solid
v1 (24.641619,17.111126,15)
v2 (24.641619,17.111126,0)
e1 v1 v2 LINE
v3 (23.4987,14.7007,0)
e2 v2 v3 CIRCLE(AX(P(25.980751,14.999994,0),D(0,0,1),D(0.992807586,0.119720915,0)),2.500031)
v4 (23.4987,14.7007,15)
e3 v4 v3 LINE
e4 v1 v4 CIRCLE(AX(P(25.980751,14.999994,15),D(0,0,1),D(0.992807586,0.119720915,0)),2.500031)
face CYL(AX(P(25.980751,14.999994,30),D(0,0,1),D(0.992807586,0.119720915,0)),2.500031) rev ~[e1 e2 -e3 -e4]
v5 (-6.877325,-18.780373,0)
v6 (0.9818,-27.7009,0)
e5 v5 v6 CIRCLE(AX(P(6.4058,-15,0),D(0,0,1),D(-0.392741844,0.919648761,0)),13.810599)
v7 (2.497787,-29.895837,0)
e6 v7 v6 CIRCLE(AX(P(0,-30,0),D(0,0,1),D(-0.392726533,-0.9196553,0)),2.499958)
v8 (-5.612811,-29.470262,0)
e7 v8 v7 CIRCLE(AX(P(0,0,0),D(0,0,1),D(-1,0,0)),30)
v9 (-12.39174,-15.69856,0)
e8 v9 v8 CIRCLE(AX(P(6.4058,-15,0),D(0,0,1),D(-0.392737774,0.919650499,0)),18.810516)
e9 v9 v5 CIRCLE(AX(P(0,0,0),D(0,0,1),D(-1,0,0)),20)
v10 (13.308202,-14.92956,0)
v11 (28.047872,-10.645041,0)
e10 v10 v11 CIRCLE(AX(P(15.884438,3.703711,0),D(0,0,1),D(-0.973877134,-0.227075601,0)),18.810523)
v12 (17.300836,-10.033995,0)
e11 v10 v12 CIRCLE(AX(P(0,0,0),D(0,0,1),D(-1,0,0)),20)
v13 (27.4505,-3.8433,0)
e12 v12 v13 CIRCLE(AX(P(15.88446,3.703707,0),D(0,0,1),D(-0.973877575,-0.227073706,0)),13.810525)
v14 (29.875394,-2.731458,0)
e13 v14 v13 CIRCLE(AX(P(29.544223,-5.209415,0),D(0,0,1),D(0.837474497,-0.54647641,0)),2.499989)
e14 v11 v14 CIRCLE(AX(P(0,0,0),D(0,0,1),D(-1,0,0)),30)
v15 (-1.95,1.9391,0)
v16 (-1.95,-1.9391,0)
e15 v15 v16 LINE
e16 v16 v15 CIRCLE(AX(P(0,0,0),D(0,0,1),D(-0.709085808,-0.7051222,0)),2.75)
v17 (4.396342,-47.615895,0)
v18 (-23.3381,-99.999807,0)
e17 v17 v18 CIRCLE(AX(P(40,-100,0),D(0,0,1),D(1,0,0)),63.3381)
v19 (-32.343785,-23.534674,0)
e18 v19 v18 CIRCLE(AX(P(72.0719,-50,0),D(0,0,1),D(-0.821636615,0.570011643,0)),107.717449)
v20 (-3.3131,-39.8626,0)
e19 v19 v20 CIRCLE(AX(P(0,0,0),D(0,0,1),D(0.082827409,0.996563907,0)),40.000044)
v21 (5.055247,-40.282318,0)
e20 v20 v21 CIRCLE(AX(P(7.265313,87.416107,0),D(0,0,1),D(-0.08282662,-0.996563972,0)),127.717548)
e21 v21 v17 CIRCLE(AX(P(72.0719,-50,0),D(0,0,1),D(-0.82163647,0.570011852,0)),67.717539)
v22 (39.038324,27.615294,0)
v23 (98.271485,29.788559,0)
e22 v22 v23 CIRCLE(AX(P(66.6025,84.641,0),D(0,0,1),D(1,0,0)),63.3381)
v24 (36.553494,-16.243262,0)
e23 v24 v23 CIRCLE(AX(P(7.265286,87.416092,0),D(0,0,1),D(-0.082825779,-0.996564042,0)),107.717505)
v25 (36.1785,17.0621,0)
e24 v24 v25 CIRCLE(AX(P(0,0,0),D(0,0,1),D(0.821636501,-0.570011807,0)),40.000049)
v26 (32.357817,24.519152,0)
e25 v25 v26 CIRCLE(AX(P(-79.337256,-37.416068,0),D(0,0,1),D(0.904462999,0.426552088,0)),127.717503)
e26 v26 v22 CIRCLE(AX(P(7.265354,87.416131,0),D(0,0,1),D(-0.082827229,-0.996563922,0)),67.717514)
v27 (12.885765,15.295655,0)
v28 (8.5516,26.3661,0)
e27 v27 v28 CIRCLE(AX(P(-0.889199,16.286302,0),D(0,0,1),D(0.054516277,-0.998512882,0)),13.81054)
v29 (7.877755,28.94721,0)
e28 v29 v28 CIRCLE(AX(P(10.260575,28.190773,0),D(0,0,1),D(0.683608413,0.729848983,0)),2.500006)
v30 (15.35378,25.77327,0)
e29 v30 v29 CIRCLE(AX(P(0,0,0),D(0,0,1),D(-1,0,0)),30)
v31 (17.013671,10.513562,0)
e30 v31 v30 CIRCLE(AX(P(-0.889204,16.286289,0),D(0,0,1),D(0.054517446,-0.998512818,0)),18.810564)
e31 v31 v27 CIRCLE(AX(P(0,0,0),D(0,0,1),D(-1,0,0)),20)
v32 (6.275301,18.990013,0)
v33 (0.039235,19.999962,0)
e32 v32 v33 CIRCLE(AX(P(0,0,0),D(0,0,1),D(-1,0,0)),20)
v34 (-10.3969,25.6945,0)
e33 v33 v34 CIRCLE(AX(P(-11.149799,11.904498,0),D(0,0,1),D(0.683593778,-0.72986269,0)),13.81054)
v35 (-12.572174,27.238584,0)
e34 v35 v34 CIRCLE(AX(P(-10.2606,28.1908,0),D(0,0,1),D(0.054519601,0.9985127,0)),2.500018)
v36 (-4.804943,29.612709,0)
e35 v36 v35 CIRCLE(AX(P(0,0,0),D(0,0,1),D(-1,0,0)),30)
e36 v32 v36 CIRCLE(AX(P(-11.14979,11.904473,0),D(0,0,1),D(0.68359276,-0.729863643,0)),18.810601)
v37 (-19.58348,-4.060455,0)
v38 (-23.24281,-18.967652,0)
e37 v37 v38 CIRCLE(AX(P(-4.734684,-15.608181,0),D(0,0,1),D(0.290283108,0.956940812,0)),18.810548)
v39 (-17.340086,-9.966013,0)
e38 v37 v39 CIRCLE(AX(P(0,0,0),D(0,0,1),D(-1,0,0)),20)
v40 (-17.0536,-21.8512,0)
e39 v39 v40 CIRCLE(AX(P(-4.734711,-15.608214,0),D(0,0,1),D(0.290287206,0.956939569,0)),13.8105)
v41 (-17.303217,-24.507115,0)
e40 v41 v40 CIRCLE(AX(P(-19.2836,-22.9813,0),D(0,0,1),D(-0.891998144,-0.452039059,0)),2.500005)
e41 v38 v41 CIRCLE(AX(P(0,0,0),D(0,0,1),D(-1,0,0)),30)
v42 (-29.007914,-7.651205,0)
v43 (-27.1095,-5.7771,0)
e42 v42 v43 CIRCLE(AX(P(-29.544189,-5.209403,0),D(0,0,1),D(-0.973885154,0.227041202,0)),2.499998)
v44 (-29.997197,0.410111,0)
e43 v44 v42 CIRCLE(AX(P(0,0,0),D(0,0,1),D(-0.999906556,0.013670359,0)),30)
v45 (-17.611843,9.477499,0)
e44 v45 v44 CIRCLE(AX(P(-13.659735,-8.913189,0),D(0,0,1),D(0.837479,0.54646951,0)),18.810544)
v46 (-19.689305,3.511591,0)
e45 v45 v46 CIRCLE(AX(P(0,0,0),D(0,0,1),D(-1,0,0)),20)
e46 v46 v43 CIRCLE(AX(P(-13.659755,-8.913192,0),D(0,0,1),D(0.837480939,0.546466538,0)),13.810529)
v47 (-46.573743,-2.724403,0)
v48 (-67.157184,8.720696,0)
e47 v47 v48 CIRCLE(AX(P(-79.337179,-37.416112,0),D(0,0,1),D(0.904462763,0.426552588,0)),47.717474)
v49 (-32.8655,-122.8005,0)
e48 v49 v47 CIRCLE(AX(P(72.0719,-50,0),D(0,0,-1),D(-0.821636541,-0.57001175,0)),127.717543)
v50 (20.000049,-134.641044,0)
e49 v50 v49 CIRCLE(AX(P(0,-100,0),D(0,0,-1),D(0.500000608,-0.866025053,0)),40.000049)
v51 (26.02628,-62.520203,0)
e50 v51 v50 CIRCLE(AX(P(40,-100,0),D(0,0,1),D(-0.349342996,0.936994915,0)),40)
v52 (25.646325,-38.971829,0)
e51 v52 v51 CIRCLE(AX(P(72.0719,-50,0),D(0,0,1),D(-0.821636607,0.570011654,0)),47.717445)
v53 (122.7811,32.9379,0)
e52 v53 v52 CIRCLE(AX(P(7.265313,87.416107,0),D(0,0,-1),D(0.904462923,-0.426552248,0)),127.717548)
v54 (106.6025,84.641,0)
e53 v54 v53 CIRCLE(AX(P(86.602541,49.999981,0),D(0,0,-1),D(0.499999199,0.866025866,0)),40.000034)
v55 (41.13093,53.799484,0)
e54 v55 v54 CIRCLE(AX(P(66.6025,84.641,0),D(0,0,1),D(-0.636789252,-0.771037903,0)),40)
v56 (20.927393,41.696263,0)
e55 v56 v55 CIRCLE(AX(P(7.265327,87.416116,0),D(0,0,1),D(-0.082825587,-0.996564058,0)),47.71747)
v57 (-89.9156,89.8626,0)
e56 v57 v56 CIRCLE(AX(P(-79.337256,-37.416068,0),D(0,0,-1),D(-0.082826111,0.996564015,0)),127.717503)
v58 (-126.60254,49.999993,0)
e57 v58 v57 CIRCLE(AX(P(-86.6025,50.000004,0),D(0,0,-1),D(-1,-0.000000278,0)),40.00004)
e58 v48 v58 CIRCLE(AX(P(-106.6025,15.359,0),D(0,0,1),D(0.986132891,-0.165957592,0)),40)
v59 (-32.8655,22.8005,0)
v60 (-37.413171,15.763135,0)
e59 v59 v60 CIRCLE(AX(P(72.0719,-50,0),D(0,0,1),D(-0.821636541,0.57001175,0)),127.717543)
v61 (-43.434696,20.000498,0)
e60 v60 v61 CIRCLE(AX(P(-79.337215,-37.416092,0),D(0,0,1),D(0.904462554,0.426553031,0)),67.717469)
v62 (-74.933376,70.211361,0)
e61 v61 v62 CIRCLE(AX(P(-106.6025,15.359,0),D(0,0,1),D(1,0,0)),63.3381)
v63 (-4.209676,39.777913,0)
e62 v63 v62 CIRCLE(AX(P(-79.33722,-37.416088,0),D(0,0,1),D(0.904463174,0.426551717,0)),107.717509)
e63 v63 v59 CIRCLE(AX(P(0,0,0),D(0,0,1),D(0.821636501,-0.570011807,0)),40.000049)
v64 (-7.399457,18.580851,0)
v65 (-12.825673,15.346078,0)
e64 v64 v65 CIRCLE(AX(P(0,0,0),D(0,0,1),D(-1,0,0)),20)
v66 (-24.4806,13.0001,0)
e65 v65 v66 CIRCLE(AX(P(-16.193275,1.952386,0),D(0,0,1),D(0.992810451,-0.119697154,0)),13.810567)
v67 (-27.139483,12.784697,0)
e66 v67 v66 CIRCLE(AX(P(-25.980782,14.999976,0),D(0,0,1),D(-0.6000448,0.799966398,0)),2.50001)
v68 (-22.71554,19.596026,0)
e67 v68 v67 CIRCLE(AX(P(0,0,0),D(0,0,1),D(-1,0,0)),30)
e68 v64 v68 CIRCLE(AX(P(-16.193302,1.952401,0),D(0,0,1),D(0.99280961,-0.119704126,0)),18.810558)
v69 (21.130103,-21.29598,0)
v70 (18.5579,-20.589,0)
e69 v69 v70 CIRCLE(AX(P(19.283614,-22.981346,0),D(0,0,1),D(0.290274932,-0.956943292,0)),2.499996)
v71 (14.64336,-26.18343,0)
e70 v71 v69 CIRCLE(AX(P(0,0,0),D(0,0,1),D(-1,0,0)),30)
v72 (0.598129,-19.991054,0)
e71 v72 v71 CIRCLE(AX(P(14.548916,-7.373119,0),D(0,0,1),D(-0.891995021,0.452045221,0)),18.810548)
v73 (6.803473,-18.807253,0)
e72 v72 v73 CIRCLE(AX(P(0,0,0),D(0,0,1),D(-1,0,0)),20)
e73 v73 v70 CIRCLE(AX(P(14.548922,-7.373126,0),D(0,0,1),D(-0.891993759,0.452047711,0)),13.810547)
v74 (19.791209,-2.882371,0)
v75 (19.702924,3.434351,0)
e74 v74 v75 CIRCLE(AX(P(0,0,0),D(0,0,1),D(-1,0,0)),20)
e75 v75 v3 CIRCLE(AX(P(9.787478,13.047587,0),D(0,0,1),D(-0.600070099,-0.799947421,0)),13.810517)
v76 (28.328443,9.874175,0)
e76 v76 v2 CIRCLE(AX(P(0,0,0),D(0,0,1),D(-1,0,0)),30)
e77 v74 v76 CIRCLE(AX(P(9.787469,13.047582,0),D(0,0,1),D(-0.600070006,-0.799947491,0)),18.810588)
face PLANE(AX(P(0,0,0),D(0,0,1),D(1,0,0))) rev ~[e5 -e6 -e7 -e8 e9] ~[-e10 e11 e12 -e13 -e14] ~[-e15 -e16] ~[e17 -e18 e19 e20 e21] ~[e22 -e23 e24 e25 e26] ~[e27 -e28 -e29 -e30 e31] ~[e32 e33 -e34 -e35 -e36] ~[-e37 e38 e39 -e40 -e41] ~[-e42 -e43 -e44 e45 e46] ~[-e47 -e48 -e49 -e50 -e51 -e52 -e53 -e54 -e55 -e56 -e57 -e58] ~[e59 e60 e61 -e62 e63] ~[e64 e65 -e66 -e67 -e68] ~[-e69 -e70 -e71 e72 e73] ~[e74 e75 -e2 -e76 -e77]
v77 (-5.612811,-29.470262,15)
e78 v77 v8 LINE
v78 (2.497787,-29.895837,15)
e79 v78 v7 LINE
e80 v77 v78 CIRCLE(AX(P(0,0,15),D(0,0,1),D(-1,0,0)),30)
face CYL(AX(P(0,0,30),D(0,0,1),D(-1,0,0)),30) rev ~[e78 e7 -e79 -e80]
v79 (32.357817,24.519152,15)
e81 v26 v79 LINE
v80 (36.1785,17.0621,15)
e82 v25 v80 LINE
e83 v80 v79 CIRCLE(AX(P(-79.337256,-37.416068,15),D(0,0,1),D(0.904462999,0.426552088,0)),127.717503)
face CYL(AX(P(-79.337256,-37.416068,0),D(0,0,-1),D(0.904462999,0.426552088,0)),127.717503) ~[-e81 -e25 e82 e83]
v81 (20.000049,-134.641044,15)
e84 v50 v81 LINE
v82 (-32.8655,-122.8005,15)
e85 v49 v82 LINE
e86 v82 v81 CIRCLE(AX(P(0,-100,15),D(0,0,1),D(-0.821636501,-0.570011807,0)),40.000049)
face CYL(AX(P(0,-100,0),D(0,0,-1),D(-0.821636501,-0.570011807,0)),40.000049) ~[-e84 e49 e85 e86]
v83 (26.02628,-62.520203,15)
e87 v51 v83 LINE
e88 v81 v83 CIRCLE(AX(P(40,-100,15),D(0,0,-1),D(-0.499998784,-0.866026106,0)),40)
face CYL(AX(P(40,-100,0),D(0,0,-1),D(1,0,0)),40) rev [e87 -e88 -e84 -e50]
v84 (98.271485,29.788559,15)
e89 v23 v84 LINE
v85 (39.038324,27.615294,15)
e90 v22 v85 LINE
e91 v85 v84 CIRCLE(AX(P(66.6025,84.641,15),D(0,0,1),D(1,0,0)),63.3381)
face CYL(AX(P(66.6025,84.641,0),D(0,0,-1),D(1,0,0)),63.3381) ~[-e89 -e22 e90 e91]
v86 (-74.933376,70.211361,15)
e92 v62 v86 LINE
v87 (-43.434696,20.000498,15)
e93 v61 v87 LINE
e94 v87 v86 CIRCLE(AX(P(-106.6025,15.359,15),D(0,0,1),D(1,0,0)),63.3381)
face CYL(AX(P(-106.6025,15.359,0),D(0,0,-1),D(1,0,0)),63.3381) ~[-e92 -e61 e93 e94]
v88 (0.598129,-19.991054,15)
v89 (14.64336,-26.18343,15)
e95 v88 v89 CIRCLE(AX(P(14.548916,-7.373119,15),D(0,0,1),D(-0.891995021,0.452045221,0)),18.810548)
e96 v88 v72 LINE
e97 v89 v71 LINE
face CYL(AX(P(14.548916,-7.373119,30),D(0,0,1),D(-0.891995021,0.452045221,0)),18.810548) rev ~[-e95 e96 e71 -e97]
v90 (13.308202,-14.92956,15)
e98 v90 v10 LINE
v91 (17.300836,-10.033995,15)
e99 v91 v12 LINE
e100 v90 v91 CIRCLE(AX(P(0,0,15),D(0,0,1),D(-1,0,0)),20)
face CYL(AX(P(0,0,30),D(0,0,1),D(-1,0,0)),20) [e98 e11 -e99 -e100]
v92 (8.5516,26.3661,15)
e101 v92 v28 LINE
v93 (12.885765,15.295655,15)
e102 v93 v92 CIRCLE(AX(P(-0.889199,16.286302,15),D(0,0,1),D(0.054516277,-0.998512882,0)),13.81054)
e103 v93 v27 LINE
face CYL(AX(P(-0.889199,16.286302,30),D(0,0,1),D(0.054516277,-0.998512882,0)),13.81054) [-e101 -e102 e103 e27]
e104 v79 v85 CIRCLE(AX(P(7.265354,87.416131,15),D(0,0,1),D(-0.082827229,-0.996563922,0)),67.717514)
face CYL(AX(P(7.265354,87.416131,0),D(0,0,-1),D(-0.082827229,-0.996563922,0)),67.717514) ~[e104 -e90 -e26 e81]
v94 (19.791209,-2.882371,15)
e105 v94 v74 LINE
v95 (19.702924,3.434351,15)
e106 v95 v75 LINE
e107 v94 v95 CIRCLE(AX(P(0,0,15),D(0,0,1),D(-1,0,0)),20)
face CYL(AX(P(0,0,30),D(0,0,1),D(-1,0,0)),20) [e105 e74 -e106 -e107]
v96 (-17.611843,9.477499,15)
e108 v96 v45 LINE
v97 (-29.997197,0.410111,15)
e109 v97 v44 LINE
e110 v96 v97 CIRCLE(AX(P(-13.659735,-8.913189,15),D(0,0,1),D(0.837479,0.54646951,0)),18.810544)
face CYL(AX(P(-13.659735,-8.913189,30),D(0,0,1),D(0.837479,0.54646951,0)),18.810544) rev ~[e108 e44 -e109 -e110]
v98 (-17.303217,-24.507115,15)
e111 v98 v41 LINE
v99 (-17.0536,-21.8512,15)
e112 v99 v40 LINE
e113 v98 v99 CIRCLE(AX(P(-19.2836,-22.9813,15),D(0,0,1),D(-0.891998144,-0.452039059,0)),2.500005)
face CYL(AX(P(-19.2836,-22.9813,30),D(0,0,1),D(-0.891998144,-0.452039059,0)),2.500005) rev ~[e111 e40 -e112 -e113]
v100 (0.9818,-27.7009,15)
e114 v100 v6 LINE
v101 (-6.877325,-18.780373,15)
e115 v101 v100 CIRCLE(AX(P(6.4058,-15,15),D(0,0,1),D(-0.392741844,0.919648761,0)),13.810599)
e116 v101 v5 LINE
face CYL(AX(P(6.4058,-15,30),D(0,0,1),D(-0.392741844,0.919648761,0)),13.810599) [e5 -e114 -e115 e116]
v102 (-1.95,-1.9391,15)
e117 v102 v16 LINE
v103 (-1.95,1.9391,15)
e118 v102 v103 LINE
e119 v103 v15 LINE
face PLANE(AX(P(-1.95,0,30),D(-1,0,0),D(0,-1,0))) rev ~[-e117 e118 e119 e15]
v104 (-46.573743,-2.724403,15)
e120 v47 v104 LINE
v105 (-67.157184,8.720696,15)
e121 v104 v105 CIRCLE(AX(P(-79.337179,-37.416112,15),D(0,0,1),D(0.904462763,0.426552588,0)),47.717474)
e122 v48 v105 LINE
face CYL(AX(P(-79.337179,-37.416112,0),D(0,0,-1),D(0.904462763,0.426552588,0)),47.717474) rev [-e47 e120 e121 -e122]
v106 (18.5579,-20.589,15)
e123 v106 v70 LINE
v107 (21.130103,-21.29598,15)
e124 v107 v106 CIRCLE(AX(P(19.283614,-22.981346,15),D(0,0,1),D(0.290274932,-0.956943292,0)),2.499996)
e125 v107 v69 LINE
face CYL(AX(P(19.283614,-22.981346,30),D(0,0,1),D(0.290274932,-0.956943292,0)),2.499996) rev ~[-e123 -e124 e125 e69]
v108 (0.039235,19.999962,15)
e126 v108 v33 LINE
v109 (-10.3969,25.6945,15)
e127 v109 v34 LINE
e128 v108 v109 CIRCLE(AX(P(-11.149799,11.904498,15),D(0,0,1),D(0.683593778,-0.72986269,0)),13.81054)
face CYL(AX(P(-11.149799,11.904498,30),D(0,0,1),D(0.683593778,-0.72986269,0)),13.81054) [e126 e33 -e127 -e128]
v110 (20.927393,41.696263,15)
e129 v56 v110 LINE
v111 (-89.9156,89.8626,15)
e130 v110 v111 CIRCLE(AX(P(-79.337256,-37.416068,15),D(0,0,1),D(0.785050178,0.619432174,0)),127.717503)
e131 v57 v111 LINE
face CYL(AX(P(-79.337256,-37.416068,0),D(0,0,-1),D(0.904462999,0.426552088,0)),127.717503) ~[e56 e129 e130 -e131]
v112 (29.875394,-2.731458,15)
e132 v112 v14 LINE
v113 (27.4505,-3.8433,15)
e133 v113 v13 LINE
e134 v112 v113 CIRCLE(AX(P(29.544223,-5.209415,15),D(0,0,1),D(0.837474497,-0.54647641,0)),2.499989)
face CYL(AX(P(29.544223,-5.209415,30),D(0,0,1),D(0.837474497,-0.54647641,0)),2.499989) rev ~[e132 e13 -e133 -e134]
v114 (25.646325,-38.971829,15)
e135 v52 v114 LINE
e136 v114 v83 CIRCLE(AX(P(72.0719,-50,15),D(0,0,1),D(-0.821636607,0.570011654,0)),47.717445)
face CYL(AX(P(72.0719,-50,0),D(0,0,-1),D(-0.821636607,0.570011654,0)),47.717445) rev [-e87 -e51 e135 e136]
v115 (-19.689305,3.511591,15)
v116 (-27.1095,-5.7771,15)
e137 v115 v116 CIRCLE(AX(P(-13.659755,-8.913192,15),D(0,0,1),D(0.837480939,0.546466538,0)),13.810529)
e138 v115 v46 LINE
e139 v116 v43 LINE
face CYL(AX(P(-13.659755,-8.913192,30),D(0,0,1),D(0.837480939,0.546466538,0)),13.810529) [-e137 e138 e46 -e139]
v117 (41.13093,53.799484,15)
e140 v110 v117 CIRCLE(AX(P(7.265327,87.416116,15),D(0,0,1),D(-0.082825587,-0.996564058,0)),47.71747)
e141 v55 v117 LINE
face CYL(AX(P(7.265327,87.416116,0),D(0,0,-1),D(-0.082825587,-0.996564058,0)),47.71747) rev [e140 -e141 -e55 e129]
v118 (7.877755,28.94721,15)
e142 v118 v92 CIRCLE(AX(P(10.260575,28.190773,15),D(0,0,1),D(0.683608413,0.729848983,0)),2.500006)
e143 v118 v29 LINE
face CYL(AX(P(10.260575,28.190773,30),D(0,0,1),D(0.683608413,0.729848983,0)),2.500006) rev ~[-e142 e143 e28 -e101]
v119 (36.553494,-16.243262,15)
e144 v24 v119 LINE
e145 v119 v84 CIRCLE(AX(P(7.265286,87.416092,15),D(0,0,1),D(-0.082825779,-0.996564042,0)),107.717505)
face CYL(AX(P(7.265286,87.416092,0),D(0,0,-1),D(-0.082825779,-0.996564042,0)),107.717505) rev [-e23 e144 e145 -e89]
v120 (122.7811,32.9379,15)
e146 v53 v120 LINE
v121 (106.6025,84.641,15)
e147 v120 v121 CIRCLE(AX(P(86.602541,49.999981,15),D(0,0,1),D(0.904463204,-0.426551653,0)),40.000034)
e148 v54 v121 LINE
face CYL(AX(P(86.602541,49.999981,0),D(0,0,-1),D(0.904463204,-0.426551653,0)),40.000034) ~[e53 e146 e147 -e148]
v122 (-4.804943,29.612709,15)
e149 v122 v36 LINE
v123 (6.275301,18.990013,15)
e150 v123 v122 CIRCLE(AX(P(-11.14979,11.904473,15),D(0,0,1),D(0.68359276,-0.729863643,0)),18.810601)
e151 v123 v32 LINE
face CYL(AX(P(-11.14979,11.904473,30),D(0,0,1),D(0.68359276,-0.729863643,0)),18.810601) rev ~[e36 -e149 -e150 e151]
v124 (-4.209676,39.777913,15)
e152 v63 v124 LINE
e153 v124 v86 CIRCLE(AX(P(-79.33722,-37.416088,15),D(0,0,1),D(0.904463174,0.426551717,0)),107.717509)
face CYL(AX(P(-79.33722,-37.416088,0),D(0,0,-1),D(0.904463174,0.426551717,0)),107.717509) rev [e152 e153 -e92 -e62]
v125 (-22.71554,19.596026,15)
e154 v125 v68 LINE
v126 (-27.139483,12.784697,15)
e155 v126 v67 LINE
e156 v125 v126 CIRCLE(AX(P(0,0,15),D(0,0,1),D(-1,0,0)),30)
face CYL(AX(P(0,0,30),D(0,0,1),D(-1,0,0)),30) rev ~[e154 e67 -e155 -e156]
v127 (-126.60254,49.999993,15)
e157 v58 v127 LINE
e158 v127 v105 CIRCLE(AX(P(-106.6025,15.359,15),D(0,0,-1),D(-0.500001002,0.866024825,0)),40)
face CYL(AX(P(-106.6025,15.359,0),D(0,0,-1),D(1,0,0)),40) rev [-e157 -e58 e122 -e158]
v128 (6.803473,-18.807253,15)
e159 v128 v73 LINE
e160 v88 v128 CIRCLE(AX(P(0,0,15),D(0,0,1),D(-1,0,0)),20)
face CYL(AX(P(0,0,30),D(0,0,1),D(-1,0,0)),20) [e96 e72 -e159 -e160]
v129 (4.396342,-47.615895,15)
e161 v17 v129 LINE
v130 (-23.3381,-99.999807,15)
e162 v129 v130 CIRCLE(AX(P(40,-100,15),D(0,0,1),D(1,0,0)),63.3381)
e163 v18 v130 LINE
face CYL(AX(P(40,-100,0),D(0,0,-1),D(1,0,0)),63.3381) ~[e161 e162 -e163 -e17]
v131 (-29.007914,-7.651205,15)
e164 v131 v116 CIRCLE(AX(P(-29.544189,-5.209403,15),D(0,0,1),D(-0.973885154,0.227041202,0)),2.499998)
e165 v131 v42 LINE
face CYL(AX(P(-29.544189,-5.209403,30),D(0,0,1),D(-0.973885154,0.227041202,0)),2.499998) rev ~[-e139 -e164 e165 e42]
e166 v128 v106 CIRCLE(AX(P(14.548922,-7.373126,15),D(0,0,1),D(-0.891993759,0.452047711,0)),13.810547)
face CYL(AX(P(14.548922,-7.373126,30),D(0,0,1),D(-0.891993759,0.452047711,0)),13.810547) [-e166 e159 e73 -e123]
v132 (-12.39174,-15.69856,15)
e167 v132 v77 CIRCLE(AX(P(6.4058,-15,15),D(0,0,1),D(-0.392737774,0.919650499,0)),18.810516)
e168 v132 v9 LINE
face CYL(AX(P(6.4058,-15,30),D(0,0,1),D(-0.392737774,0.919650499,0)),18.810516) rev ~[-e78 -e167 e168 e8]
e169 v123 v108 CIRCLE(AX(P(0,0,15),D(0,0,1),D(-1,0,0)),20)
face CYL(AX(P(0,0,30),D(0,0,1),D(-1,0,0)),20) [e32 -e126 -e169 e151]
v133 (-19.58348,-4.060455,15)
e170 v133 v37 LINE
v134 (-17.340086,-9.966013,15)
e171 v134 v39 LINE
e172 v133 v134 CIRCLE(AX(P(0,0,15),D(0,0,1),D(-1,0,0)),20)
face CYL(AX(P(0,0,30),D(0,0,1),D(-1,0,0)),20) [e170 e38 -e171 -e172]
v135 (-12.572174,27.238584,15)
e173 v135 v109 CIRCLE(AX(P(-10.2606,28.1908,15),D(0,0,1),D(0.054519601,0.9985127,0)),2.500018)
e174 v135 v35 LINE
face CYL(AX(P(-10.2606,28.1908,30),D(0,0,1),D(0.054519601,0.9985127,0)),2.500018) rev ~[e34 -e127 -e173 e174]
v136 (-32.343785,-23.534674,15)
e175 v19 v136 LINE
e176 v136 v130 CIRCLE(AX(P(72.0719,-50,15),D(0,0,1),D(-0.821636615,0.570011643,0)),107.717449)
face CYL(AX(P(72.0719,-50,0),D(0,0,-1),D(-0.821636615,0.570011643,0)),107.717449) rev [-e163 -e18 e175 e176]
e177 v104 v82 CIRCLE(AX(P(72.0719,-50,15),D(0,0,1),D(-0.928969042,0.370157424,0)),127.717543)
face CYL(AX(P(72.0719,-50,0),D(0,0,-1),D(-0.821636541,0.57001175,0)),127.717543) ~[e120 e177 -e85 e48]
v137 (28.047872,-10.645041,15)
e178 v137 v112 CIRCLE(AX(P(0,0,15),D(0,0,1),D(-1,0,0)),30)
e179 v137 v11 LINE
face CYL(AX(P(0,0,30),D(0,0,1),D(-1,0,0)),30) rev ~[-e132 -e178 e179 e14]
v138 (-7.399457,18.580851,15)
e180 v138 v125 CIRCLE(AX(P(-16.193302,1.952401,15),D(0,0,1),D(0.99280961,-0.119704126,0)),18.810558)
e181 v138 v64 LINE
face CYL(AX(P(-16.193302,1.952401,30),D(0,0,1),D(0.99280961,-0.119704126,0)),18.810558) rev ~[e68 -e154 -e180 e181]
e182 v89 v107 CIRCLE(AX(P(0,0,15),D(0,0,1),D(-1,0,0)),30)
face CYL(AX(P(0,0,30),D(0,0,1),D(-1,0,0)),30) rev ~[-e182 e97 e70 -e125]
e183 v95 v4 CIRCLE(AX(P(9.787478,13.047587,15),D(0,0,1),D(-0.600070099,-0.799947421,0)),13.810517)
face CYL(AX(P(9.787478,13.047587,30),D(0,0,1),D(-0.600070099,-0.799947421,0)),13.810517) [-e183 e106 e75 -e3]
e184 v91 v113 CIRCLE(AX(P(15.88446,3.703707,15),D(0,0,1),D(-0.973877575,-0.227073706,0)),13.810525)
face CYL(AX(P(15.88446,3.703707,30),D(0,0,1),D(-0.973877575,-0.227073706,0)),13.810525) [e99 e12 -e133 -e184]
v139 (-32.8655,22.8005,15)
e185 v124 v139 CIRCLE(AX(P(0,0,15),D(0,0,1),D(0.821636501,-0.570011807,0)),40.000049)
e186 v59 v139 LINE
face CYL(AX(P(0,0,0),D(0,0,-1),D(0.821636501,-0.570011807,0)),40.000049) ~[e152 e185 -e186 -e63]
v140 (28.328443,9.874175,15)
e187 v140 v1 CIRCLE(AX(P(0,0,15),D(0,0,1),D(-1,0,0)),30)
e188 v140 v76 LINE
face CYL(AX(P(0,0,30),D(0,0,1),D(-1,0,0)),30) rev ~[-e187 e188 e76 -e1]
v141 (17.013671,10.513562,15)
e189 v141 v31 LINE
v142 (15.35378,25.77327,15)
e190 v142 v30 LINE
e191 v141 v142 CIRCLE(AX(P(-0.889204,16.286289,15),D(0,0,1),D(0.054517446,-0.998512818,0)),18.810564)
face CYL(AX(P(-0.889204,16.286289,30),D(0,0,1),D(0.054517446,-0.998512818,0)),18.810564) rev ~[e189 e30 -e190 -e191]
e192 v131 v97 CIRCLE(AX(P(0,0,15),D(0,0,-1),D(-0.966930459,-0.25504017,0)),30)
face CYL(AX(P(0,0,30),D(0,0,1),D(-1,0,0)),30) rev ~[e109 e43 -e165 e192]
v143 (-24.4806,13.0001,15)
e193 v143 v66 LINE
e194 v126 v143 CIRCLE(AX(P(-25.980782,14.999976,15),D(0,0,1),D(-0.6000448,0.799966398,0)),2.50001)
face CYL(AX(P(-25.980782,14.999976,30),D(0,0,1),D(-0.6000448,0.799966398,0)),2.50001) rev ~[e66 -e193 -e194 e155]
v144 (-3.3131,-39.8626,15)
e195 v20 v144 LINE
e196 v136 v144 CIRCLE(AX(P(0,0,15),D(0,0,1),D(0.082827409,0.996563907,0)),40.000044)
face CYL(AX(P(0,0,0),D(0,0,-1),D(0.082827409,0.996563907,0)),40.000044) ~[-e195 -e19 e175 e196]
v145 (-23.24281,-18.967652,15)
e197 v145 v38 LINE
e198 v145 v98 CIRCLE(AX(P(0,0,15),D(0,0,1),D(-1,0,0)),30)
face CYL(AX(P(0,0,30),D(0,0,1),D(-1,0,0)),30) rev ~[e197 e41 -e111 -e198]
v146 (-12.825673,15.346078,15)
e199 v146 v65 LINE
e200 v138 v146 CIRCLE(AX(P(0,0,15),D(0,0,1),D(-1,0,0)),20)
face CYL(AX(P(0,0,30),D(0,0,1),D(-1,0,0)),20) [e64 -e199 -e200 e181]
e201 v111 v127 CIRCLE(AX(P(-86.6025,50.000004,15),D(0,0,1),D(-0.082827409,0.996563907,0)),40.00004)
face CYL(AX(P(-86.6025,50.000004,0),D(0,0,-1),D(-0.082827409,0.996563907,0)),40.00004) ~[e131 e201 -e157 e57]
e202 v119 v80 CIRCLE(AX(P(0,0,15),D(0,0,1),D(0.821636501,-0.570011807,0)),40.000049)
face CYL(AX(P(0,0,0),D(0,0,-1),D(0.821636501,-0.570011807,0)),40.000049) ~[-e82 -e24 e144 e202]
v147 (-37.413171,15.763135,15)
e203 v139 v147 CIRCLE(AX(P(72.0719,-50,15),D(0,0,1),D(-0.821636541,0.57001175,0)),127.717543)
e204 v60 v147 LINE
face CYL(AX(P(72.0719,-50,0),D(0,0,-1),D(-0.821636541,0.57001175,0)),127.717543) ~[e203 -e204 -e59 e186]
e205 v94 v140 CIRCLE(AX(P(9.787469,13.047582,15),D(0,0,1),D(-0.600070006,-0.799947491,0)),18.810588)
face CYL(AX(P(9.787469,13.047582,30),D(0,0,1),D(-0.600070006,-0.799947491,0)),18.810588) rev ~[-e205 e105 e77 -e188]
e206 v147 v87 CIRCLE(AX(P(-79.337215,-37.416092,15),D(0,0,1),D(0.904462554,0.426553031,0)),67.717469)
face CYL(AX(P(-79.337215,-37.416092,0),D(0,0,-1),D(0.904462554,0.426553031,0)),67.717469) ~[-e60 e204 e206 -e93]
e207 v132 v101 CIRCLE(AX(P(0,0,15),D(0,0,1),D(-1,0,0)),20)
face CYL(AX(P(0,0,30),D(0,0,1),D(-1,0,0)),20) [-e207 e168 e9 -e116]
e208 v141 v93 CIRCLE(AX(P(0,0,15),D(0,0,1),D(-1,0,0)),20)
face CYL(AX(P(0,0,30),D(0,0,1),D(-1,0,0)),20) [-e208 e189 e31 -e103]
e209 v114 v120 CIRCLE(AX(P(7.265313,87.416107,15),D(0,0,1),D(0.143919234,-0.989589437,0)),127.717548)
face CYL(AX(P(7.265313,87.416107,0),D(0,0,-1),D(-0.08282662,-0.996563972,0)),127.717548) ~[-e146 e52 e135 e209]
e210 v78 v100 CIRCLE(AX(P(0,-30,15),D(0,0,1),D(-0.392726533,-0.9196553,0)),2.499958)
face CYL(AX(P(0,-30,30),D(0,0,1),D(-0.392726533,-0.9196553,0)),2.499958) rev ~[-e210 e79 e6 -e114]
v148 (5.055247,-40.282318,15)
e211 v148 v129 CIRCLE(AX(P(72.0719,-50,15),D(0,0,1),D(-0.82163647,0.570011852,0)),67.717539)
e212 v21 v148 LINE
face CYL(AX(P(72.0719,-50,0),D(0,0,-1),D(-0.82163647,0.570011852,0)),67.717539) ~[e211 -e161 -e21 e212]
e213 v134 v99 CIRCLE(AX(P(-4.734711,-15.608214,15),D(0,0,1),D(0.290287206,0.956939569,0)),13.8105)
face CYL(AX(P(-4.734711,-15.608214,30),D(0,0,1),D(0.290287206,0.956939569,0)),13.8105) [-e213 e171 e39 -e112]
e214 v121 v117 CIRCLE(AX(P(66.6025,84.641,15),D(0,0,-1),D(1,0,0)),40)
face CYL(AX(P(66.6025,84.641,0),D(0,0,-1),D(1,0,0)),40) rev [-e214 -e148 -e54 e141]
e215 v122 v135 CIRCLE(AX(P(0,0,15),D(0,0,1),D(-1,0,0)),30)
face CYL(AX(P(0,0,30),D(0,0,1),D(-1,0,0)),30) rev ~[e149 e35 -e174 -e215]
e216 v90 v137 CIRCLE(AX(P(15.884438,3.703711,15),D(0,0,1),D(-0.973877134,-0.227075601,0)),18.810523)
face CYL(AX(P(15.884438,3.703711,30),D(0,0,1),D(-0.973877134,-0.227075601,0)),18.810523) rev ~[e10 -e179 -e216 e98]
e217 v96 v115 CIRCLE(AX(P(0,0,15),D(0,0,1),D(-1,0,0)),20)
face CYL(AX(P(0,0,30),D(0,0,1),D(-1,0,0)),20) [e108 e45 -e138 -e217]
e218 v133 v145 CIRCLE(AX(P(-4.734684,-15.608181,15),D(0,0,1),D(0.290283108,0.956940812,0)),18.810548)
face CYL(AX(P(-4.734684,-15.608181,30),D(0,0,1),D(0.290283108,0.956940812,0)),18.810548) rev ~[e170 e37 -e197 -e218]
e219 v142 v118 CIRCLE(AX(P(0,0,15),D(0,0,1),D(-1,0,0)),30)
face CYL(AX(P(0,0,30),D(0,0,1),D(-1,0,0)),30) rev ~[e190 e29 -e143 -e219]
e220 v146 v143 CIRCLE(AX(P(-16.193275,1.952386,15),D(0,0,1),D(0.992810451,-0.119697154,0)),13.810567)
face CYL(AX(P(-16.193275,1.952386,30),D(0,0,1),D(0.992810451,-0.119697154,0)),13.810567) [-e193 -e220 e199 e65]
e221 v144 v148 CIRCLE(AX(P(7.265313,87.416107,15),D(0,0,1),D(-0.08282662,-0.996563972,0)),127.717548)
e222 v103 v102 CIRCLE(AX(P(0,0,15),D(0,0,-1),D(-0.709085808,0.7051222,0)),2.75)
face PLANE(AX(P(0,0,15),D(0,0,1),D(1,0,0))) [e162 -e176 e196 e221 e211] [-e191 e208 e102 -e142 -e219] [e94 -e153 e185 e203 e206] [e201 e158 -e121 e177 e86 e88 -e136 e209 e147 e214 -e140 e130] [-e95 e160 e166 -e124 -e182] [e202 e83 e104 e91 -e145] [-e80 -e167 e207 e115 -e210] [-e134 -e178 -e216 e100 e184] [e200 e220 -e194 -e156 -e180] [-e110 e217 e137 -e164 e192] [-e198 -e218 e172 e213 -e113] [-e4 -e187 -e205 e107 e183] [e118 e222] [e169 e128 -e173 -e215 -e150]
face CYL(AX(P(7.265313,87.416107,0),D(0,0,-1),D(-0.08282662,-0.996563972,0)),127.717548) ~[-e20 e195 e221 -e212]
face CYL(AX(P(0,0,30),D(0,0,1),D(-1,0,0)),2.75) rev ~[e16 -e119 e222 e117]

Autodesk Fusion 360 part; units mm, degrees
sketch "스케치1" plane through (0, 0, 0) normal (0, 0, 1) x (1, 0, 0)
  arc A0 (32.8655, -22.8005) -> (32.8655, -77.1995) centre (72.0719, -50) ccw
  arc A1 (32.8655, -22.8005) -> (-32.8655, 22.8005) centre (0, 0) ccw
  arc A2 (-32.8655, 22.8005) -> (-32.8655, -122.8005) centre (72.0719, -50) ccw
  arc A3 (-32.8655, -122.8005) -> (32.8655, -77.1995) centre (0, -100) ccw
  arc A4 (0, 0) -> (0, -100) centre (72.0719, -50) ccw construction
  arc A5 (16.4327, -11.4002) -> (16.4327, -88.5998) centre (72.0719, -50) ccw
  arc A6 (16.4327, -11.4002) -> (-16.4327, 11.4002) centre (0, 0) ccw
  arc A7 (-16.4327, 11.4002) -> (-16.4327, -111.4002) centre (72.0719, -50) ccw
  arc A8 (-16.4327, -111.4002) -> (16.4327, -88.5998) centre (0, -100) ccw
  arc A9 (0, 0) -> (0, -100) centre (72.0719, -50) ccw construction
  circle A10 centre (40, -100) radius 40
  circle A11 centre (40, -100) radius 63.3381
  arc A12 (1.6565, 19.9313) -> (-1.6565, -19.9313) centre (0, 0) ccw
  arc A13 (0, 0) -> (86.6025, 50) centre (7.2653, 87.4161) ccw construction
  arc A14 (3.3131, 39.8626) -> (50.424, 67.0621) centre (7.2653, 87.4161) ccw
  arc A15 (3.3131, 39.8626) -> (-3.3131, -39.8626) centre (0, 0) ccw
  arc A16 (104.6918, 41.469) -> (68.5133, 58.531) centre (86.6025, 50) ccw
  arc A17 (122.7811, 32.9379) -> (50.424, 67.0621) centre (86.6025, 50) ccw
  arc A18 (1.6565, 19.9313) -> (68.5133, 58.531) centre (7.2653, 87.4161) ccw
  arc A19 (-1.6565, -19.9313) -> (104.6918, 41.469) centre (7.2653, 87.4161) ccw
  circle A20 centre (66.6025, 84.641) radius 63.3381
  arc A21 (0, 0) -> (86.6025, 50) centre (7.2653, 87.4161) ccw construction
  arc A22 (-3.3131, -39.8626) -> (122.7811, 32.9379) centre (7.2653, 87.4161) ccw
  circle A23 centre (66.6025, 84.641) radius 40
  arc A24 (-18.0893, -8.531) -> (18.0893, 8.531) centre (0, 0) ccw
  arc A25 (0, 0) -> (-86.6025, 50) centre (-79.3372, -37.4161) ccw construction
  arc A26 (-36.1785, -17.0621) -> (-83.2895, 10.1374) centre (-79.3372, -37.4161) ccw
  arc A27 (-36.1785, -17.0621) -> (36.1785, 17.0621) centre (0, 0) ccw
  arc A28 (-88.2591, 69.9313) -> (-84.946, 30.0687) centre (-86.6025, 50) ccw
  arc A29 (-89.9156, 89.8626) -> (-83.2895, 10.1374) centre (-86.6025, 50) ccw
  arc A30 (-18.0893, -8.531) -> (-84.946, 30.0687) centre (-79.3372, -37.4161) ccw
  arc A31 (18.0893, 8.531) -> (-88.2591, 69.9313) centre (-79.3372, -37.4161) ccw
  circle A32 centre (-106.6025, 15.359) radius 63.3381
  arc A33 (0, 0) -> (-86.6025, 50) centre (-79.3372, -37.4161) ccw construction
  arc A34 (36.1785, 17.0621) -> (-89.9156, 89.8626) centre (-79.3372, -37.4161) ccw
  circle A35 centre (-106.6025, 15.359) radius 40
  dimension "d1" = 100
  dimension "d2" = 80
  dimension "d3" = 40
  dimension "d5" = 360
extrude "돌출1" add sketch "스케치1" along normal blind 30 contours A0 A1 A11 A17 A19 A20 A22 A27 | A1 A5 A19 A27 | A0 A5 A11 A22 A27 | A0 A11 A22 | A0 A11 A22 | A1 A5 A6 A18 A19 A24 A27 A31 | A5 A7 A12 A15 A19 A24 A27 A30 | A5 A22 A27 | A0 A5 A10 A11 A22 | A5 A11 A22 | A1 A18 A34 | A5 A19 A24 | A16 A18 A19 A20 A23 | A16 A17 A19 A20 A23 | A5 A7 A8 A10 A11 | A1 A15 A18 A31 | A1 A14 A18 A20 A34 | A18 A20 A34 | A6 A12 A24 | A14 A18 A20 A23 A34 | A7 A15 A27 A30 | A2 A3 A7 A11 A15 A26 A27 A32 | A3 A7 A8 A10 A11 | A1 A14 A15 A20 A29 A31 A32 A34 | A6 A18 A31 | A1 A6 A7 A12 A15 A18 A30 A31 | A14 A20 A34 | A7 A12 A30 | A2 A15 A26 A30 A32 | A14 A20 A34 | A2 A15 A30 | A2 A26 A32 | A2 A26 A32 | A28 A30 A31 A32 A35 | A28 A29 A31 A32 A35 | A2 A30 A32 | A2 A26 A30 A32 A35
sketch "스케치2" plane through (0, 0, 30) normal (0, 0, 1) x (-1, 0, 0)
  arc A0 (-36.5535, 16.2433) -> (-98.2716, -29.7887) centre (-7.2653, -87.4161) ccw
  arc A1 (-36.5535, 16.2433) -> (-36.1785, -17.0621) centre (0, 0) ccw
  arc A2 (-36.1785, -17.0621) -> (-32.3578, -24.5192) centre (79.3372, 37.4161) ccw
  arc A3 (-32.3578, -24.5192) -> (-39.0384, -27.6153) centre (-7.2653, -87.4161) ccw
  arc A4 (-39.0384, -27.6153) -> (-98.2716, -29.7887) centre (-66.6025, -84.641) ccw
  arc A5 (32.3438, 23.5346) -> (3.3131, 39.8626) centre (0, 0) ccw
  arc A6 (3.3131, 39.8626) -> (-5.0553, 40.2823) centre (-7.2653, -87.4161) ccw
  arc A7 (-5.0553, 40.2823) -> (-4.3964, 47.6159) centre (-72.0719, 50) ccw
  arc A8 (-4.3964, 47.6159) -> (23.3381, 100) centre (-40, 100) ccw
  arc A9 (32.3438, 23.5346) -> (23.3381, 100) centre (-72.0719, 50) ccw
  arc A10 (4.2097, -39.7779) -> (74.9335, -70.2113) centre (79.3372, 37.4161) ccw
  arc A11 (4.2097, -39.7779) -> (32.8655, -22.8005) centre (0, 0) ccw
  arc A12 (32.8655, -22.8005) -> (37.4131, -15.7631) centre (-72.0719, 50) ccw
  arc A13 (37.4131, -15.7631) -> (43.4348, -20.0006) centre (79.3372, 37.4161) ccw
  arc A14 (43.4348, -20.0006) -> (74.9335, -70.2113) centre (106.6025, -15.359) ccw
  arc A15 (46.5737, 2.7244) -> (32.8655, 122.8005) centre (-72.0719, 50) ccw
  arc A16 (32.8655, 122.8005) -> (-20, 134.641) centre (0, 100) ccw
  arc A17 (-26.0262, 62.5202) -> (-20, 134.641) centre (-40, 100) ccw
  arc A18 (-25.6463, 38.9718) -> (-26.0262, 62.5202) centre (-72.0719, 50) ccw
  arc A19 (-25.6463, 38.9718) -> (-122.7811, -32.9379) centre (-7.2653, -87.4161) ccw
  arc A20 (-122.7811, -32.9379) -> (-106.6025, -84.641) centre (-86.6025, -50) ccw
  arc A21 (-41.131, -53.7995) -> (-106.6025, -84.641) centre (-66.6025, -84.641) ccw
  arc A22 (-20.9274, -41.6962) -> (-41.131, -53.7995) centre (-7.2653, -87.4161) ccw
  arc A23 (-20.9274, -41.6962) -> (89.9156, -89.8626) centre (79.3372, 37.4161) ccw
  arc A24 (89.9156, -89.8626) -> (126.6025, -50) centre (86.6025, -50) ccw
  arc A25 (67.1572, -8.7207) -> (126.6025, -50) centre (106.6025, -15.359) ccw
  arc A26 (46.5737, 2.7244) -> (67.1572, -8.7207) centre (79.3372, 37.4161) ccw
  circle A27 centre (0, 0) radius 30
  circle A28 centre (0, 0) radius 20
  arc A29 (0.9818, -2.2991) -> (0.9818, 32.2991) centre (-6.4058, 15) ccw
  arc A30 (-0.9818, 2.2991) -> (0.9818, -2.2991) centre (0, 0) ccw
  arc A31 (-0.9818, 2.2991) -> (-0.9818, 27.7009) centre (-6.4058, 15) ccw
  arc A32 (0.9818, 32.2991) -> (-0.9818, 27.7009) centre (0, 30) ccw
  arc A33 (0, 0) -> (0, 30) centre (-6.4058, 15) ccw construction
  arc A34 (-2.23, 1.1301) -> (-18.5579, 20.589) centre (-14.5489, 7.3731) ccw
  arc A35 (2.23, -1.1301) -> (-20.0093, 25.3737) centre (-14.5489, 7.3731) ccw
  arc A36 (-20.0093, 25.3737) -> (-18.5579, 20.589) centre (-19.2836, 22.9813) ccw
  arc A37 (-2.23, 1.1301) -> (2.23, -1.1301) centre (0, 0) ccw
  arc A38 (-2.4347, -0.5677) -> (-27.4505, 3.8433) centre (-15.8845, -3.7037) ccw
  arc A39 (2.4347, 0.5677) -> (-31.6379, 6.5756) centre (-15.8845, -3.7037) ccw
  arc A40 (-31.6379, 6.5756) -> (-27.4505, 3.8433) centre (-29.5442, 5.2094) ccw
  arc A41 (-2.4347, -0.5677) -> (2.4347, 0.5677) centre (0, 0) ccw
  arc A42 (-1.5002, -1.9999) -> (-23.4987, -14.7007) centre (-9.7875, -13.0476) ccw
  arc A43 (1.5002, 1.9999) -> (-28.4628, -15.2993) centre (-9.7875, -13.0476) ccw
  arc A44 (-28.4628, -15.2993) -> (-23.4987, -14.7007) centre (-25.9808, -15) ccw
  arc A45 (-1.5002, -1.9999) -> (1.5002, 1.9999) centre (0, 0) ccw
  arc A46 (0.1363, -2.4963) -> (-8.5516, -26.3661) centre (0.8892, -16.2863) ccw
  arc A47 (-0.1363, 2.4963) -> (-11.9696, -30.0154) centre (0.8892, -16.2863) ccw
  arc A48 (-11.9696, -30.0154) -> (-8.5516, -26.3661) centre (-10.2606, -28.1908) ccw
  arc A49 (0.1363, -2.4963) -> (-0.1363, 2.4963) centre (0, 0) ccw
  arc A50 (1.709, -1.8247) -> (10.3969, -25.6945) centre (11.1498, -11.9045) ccw
  arc A51 (-1.709, 1.8247) -> (10.1243, -30.6871) centre (11.1498, -11.9045) ccw
  arc A52 (10.1243, -30.6871) -> (10.3969, -25.6945) centre (10.2606, -28.1908) ccw
  arc A53 (1.709, -1.8247) -> (-1.709, 1.8247) centre (0, 0) ccw
  arc A54 (2.482, -0.2993) -> (24.4806, -13.0001) centre (16.1933, -1.9524) ccw
  arc A55 (-2.482, 0.2993) -> (27.4809, -16.9999) centre (16.1933, -1.9524) ccw
  arc A56 (27.4809, -16.9999) -> (24.4806, -13.0001) centre (25.9808, -15) ccw
  arc A57 (2.482, -0.2993) -> (-2.482, 0.2993) centre (0, 0) ccw
  arc A58 (2.0937, 1.3662) -> (27.1095, 5.7771) centre (13.6598, 8.9132) ccw
  arc A59 (-2.0937, -1.3662) -> (31.9789, 4.6418) centre (13.6598, 8.9132) ccw
  arc A60 (31.9789, 4.6418) -> (27.1095, 5.7771) centre (29.5442, 5.2094) ccw
  arc A61 (2.0937, 1.3662) -> (-2.0937, -1.3662) centre (0, 0) ccw
  arc A62 (0.7257, 2.3924) -> (17.0536, 21.8512) centre (4.7347, 15.6082) ccw
  arc A63 (-0.7257, -2.3924) -> (21.5136, 24.1114) centre (4.7347, 15.6082) ccw
  arc A64 (21.5136, 24.1114) -> (17.0536, 21.8512) centre (19.2836, 22.9813) ccw
  arc A65 (0.7257, 2.3924) -> (-0.7257, -2.3924) centre (0, 0) ccw
  dimension "d8" = 60
  dimension "d9" = 40
  dimension "d10" = 5
  dimension "d12" = 360
extrude "돌출2" cut sketch "스케치2" against normal blind 30 contours A27 A28 A58 A59 A60 | A27 A28 A62 A63 A64 | A27 A28 A54 A55 A56 | A27 A28 A29 A31 A32 | A27 A28 A50 A51 A52 | A27 A28 A34 A35 A36 | A27 A28 A46 A47 A48 | A27 A28 A38 A39 A40 | A27 A28 A42 A43 A44
sketch "스케치3" plane through (0, 0, 30) normal (0, 0, 1) x (-1, 0, 0)
  arc A0 (4.805, -29.6127) -> (12.5722, -27.2386) centre (0, 0) ccw
  arc A1 (-6.2753, -18.99) -> (4.805, -29.6127) centre (11.1498, -11.9045) ccw
  arc A2 (-6.2753, -18.99) -> (-0.0393, -20) centre (0, 0) ccw
  arc A3 (-0.0393, -20) -> (10.3969, -25.6945) centre (11.1498, -11.9045) ccw
  arc A4 (12.5722, -27.2386) -> (10.3969, -25.6945) centre (10.2606, -28.1908) ccw
  arc A5 (5.6129, 29.4702) -> (-2.4978, 29.8958) centre (0, 0) ccw
  arc A6 (12.3918, 15.6985) -> (5.6129, 29.4702) centre (-6.4058, 15) ccw
  arc A7 (12.3918, 15.6985) -> (6.8773, 18.7804) centre (0, 0) ccw
  arc A8 (6.8773, 18.7804) -> (-0.9818, 27.7009) centre (-6.4058, 15) ccw
  arc A9 (-2.4978, 29.8958) -> (-0.9818, 27.7009) centre (0, 30) ccw
  arc A10 (-14.6434, 26.1834) -> (-21.1301, 21.296) centre (0, 0) ccw
  arc A11 (-0.5981, 19.9911) -> (-14.6434, 26.1834) centre (-14.5489, 7.3731) ccw
  arc A12 (-0.5981, 19.9911) -> (-6.8035, 18.8072) centre (0, 0) ccw
  arc A13 (-6.8035, 18.8072) -> (-18.5579, 20.589) centre (-14.5489, 7.3731) ccw
  arc A14 (-21.1301, 21.296) -> (-18.5579, 20.589) centre (-19.2836, 22.9813) ccw
  arc A15 (22.7155, -19.596) -> (27.1395, -12.7847) centre (0, 0) ccw
  arc A16 (7.3994, -18.5809) -> (22.7155, -19.596) centre (16.1933, -1.9524) ccw
  arc A17 (7.3994, -18.5809) -> (12.8256, -15.3461) centre (0, 0) ccw
  arc A18 (12.8256, -15.3461) -> (24.4806, -13.0001) centre (16.1933, -1.9524) ccw
  arc A19 (27.1395, -12.7847) -> (24.4806, -13.0001) centre (25.9808, -15) ccw
  arc A20 (-15.3538, -25.7732) -> (-7.8778, -28.9472) centre (0, 0) ccw
  arc A21 (-17.0137, -10.5135) -> (-15.3538, -25.7732) centre (0.8892, -16.2863) ccw
  arc A22 (-17.0137, -10.5135) -> (-12.8858, -15.2956) centre (0, 0) ccw
  arc A23 (-12.8858, -15.2956) -> (-8.5516, -26.3661) centre (0.8892, -16.2863) ccw
  arc A24 (-7.8778, -28.9472) -> (-8.5516, -26.3661) centre (-10.2606, -28.1908) ccw
  arc A25 (23.2428, 18.9676) -> (17.3032, 24.5071) centre (0, 0) ccw
  arc A26 (19.5835, 4.0605) -> (23.2428, 18.9676) centre (4.7347, 15.6082) ccw
  arc A27 (19.5835, 4.0605) -> (17.3401, 9.966) centre (0, 0) ccw
  arc A28 (17.3401, 9.966) -> (17.0536, 21.8512) centre (4.7347, 15.6082) ccw
  arc A29 (17.3032, 24.5071) -> (17.0536, 21.8512) centre (19.2836, 22.9813) ccw
  arc A30 (-28.0479, 10.6451) -> (-29.8754, 2.7315) centre (0, 0) ccw
  arc A31 (-13.3082, 14.9296) -> (-28.0479, 10.6451) centre (-15.8845, -3.7037) ccw
  arc A32 (-13.3082, 14.9296) -> (-17.3008, 10.034) centre (0, 0) ccw
  arc A33 (-17.3008, 10.034) -> (-27.4505, 3.8433) centre (-15.8845, -3.7037) ccw
  arc A34 (-29.8754, 2.7315) -> (-27.4505, 3.8433) centre (-29.5442, 5.2094) ccw
  arc A35 (29.9972, -0.4102) -> (29.0079, 7.6512) centre (0, 0) ccw
  arc A36 (17.6118, -9.4775) -> (29.9972, -0.4102) centre (13.6598, 8.9132) ccw
  arc A37 (17.6118, -9.4775) -> (19.6893, -3.5116) centre (0, 0) ccw
  arc A38 (19.6893, -3.5116) -> (27.1095, 5.7771) centre (13.6598, 8.9132) ccw
  arc A39 (29.0079, 7.6512) -> (27.1095, 5.7771) centre (29.5442, 5.2094) ccw
  arc A40 (-28.3284, -9.8742) -> (-24.6416, -17.1111) centre (0, 0) ccw
  arc A41 (-19.7912, 2.8823) -> (-28.3284, -9.8742) centre (-9.7875, -13.0476) ccw
  arc A42 (-19.7912, 2.8823) -> (-19.7029, -3.4343) centre (0, 0) ccw
  arc A43 (-19.7029, -3.4343) -> (-23.4987, -14.7007) centre (-9.7875, -13.0476) ccw
  arc A44 (-24.6416, -17.1111) -> (-23.4987, -14.7007) centre (-25.9808, -15) ccw
  arc A45 (-36.5535, 16.2433) -> (-98.2716, -29.7887) centre (-7.2653, -87.4161) ccw
  arc A46 (-36.5535, 16.2433) -> (-36.1785, -17.0621) centre (0, 0) ccw
  arc A47 (-36.1785, -17.0621) -> (-32.3578, -24.5192) centre (79.3372, 37.4161) ccw
  arc A48 (-32.3578, -24.5192) -> (-39.0384, -27.6153) centre (-7.2653, -87.4161) ccw
  arc A49 (-39.0384, -27.6153) -> (-98.2716, -29.7887) centre (-66.6025, -84.641) ccw
  arc A50 (32.3438, 23.5346) -> (3.3131, 39.8626) centre (0, 0) ccw
  arc A51 (3.3131, 39.8626) -> (-5.0553, 40.2823) centre (-7.2653, -87.4161) ccw
  arc A52 (-5.0553, 40.2823) -> (-4.3964, 47.6159) centre (-72.0719, 50) ccw
  arc A53 (-4.3964, 47.6159) -> (23.3381, 100) centre (-40, 100) ccw
  arc A54 (32.3438, 23.5346) -> (23.3381, 100) centre (-72.0719, 50) ccw
  arc A55 (4.2097, -39.7779) -> (74.9335, -70.2113) centre (79.3372, 37.4161) ccw
  arc A56 (4.2097, -39.7779) -> (32.8655, -22.8005) centre (0, 0) ccw
  arc A57 (32.8655, -22.8005) -> (37.4131, -15.7631) centre (-72.0719, 50) ccw
  arc A58 (37.4131, -15.7631) -> (43.4348, -20.0006) centre (79.3372, 37.4161) ccw
  arc A59 (43.4348, -20.0006) -> (74.9335, -70.2113) centre (106.6025, -15.359) ccw
  arc A60 (46.5737, 2.7244) -> (32.8655, 122.8005) centre (-72.0719, 50) ccw
  arc A61 (32.8655, 122.8005) -> (-20, 134.641) centre (0, 100) ccw
  arc A62 (-26.0262, 62.5202) -> (-20, 134.641) centre (-40, 100) ccw
  arc A63 (-25.6463, 38.9718) -> (-26.0262, 62.5202) centre (-72.0719, 50) ccw
  arc A64 (-25.6463, 38.9718) -> (-122.7811, -32.9379) centre (-7.2653, -87.4161) ccw
  arc A65 (-122.7811, -32.9379) -> (-106.6025, -84.641) centre (-86.6025, -50) ccw
  arc A66 (-41.131, -53.7995) -> (-106.6025, -84.641) centre (-66.6025, -84.641) ccw
  arc A67 (-20.9274, -41.6962) -> (-41.131, -53.7995) centre (-7.2653, -87.4161) ccw
  arc A68 (-20.9274, -41.6962) -> (89.9156, -89.8626) centre (79.3372, 37.4161) ccw
  arc A69 (89.9156, -89.8626) -> (126.6025, -50) centre (86.6025, -50) ccw
  arc A70 (67.1572, -8.7207) -> (126.6025, -50) centre (106.6025, -15.359) ccw
  arc A71 (46.5737, 2.7244) -> (67.1572, -8.7207) centre (79.3372, 37.4161) ccw
  circle A72 centre (0, 0) radius 2.75
  line L0 (-2.75, 0) -> (1.95, 0)
  line L1 (1.95, 0) -> (1.95, -1.9391)
  line L2 (1.95, 0) -> (1.95, 1.9391)
  dimension "d15" = 5.5
  dimension "d16" = 4.7
extrude "돌출3" cut sketch "스케치3" against normal blind 30 contours A72 L0 L2 | A72 L0 L1
extrude "돌출4" cut 1 faces at (-16.7209, -113.5942, 30) along direction (0, 0, -1) blind 15
